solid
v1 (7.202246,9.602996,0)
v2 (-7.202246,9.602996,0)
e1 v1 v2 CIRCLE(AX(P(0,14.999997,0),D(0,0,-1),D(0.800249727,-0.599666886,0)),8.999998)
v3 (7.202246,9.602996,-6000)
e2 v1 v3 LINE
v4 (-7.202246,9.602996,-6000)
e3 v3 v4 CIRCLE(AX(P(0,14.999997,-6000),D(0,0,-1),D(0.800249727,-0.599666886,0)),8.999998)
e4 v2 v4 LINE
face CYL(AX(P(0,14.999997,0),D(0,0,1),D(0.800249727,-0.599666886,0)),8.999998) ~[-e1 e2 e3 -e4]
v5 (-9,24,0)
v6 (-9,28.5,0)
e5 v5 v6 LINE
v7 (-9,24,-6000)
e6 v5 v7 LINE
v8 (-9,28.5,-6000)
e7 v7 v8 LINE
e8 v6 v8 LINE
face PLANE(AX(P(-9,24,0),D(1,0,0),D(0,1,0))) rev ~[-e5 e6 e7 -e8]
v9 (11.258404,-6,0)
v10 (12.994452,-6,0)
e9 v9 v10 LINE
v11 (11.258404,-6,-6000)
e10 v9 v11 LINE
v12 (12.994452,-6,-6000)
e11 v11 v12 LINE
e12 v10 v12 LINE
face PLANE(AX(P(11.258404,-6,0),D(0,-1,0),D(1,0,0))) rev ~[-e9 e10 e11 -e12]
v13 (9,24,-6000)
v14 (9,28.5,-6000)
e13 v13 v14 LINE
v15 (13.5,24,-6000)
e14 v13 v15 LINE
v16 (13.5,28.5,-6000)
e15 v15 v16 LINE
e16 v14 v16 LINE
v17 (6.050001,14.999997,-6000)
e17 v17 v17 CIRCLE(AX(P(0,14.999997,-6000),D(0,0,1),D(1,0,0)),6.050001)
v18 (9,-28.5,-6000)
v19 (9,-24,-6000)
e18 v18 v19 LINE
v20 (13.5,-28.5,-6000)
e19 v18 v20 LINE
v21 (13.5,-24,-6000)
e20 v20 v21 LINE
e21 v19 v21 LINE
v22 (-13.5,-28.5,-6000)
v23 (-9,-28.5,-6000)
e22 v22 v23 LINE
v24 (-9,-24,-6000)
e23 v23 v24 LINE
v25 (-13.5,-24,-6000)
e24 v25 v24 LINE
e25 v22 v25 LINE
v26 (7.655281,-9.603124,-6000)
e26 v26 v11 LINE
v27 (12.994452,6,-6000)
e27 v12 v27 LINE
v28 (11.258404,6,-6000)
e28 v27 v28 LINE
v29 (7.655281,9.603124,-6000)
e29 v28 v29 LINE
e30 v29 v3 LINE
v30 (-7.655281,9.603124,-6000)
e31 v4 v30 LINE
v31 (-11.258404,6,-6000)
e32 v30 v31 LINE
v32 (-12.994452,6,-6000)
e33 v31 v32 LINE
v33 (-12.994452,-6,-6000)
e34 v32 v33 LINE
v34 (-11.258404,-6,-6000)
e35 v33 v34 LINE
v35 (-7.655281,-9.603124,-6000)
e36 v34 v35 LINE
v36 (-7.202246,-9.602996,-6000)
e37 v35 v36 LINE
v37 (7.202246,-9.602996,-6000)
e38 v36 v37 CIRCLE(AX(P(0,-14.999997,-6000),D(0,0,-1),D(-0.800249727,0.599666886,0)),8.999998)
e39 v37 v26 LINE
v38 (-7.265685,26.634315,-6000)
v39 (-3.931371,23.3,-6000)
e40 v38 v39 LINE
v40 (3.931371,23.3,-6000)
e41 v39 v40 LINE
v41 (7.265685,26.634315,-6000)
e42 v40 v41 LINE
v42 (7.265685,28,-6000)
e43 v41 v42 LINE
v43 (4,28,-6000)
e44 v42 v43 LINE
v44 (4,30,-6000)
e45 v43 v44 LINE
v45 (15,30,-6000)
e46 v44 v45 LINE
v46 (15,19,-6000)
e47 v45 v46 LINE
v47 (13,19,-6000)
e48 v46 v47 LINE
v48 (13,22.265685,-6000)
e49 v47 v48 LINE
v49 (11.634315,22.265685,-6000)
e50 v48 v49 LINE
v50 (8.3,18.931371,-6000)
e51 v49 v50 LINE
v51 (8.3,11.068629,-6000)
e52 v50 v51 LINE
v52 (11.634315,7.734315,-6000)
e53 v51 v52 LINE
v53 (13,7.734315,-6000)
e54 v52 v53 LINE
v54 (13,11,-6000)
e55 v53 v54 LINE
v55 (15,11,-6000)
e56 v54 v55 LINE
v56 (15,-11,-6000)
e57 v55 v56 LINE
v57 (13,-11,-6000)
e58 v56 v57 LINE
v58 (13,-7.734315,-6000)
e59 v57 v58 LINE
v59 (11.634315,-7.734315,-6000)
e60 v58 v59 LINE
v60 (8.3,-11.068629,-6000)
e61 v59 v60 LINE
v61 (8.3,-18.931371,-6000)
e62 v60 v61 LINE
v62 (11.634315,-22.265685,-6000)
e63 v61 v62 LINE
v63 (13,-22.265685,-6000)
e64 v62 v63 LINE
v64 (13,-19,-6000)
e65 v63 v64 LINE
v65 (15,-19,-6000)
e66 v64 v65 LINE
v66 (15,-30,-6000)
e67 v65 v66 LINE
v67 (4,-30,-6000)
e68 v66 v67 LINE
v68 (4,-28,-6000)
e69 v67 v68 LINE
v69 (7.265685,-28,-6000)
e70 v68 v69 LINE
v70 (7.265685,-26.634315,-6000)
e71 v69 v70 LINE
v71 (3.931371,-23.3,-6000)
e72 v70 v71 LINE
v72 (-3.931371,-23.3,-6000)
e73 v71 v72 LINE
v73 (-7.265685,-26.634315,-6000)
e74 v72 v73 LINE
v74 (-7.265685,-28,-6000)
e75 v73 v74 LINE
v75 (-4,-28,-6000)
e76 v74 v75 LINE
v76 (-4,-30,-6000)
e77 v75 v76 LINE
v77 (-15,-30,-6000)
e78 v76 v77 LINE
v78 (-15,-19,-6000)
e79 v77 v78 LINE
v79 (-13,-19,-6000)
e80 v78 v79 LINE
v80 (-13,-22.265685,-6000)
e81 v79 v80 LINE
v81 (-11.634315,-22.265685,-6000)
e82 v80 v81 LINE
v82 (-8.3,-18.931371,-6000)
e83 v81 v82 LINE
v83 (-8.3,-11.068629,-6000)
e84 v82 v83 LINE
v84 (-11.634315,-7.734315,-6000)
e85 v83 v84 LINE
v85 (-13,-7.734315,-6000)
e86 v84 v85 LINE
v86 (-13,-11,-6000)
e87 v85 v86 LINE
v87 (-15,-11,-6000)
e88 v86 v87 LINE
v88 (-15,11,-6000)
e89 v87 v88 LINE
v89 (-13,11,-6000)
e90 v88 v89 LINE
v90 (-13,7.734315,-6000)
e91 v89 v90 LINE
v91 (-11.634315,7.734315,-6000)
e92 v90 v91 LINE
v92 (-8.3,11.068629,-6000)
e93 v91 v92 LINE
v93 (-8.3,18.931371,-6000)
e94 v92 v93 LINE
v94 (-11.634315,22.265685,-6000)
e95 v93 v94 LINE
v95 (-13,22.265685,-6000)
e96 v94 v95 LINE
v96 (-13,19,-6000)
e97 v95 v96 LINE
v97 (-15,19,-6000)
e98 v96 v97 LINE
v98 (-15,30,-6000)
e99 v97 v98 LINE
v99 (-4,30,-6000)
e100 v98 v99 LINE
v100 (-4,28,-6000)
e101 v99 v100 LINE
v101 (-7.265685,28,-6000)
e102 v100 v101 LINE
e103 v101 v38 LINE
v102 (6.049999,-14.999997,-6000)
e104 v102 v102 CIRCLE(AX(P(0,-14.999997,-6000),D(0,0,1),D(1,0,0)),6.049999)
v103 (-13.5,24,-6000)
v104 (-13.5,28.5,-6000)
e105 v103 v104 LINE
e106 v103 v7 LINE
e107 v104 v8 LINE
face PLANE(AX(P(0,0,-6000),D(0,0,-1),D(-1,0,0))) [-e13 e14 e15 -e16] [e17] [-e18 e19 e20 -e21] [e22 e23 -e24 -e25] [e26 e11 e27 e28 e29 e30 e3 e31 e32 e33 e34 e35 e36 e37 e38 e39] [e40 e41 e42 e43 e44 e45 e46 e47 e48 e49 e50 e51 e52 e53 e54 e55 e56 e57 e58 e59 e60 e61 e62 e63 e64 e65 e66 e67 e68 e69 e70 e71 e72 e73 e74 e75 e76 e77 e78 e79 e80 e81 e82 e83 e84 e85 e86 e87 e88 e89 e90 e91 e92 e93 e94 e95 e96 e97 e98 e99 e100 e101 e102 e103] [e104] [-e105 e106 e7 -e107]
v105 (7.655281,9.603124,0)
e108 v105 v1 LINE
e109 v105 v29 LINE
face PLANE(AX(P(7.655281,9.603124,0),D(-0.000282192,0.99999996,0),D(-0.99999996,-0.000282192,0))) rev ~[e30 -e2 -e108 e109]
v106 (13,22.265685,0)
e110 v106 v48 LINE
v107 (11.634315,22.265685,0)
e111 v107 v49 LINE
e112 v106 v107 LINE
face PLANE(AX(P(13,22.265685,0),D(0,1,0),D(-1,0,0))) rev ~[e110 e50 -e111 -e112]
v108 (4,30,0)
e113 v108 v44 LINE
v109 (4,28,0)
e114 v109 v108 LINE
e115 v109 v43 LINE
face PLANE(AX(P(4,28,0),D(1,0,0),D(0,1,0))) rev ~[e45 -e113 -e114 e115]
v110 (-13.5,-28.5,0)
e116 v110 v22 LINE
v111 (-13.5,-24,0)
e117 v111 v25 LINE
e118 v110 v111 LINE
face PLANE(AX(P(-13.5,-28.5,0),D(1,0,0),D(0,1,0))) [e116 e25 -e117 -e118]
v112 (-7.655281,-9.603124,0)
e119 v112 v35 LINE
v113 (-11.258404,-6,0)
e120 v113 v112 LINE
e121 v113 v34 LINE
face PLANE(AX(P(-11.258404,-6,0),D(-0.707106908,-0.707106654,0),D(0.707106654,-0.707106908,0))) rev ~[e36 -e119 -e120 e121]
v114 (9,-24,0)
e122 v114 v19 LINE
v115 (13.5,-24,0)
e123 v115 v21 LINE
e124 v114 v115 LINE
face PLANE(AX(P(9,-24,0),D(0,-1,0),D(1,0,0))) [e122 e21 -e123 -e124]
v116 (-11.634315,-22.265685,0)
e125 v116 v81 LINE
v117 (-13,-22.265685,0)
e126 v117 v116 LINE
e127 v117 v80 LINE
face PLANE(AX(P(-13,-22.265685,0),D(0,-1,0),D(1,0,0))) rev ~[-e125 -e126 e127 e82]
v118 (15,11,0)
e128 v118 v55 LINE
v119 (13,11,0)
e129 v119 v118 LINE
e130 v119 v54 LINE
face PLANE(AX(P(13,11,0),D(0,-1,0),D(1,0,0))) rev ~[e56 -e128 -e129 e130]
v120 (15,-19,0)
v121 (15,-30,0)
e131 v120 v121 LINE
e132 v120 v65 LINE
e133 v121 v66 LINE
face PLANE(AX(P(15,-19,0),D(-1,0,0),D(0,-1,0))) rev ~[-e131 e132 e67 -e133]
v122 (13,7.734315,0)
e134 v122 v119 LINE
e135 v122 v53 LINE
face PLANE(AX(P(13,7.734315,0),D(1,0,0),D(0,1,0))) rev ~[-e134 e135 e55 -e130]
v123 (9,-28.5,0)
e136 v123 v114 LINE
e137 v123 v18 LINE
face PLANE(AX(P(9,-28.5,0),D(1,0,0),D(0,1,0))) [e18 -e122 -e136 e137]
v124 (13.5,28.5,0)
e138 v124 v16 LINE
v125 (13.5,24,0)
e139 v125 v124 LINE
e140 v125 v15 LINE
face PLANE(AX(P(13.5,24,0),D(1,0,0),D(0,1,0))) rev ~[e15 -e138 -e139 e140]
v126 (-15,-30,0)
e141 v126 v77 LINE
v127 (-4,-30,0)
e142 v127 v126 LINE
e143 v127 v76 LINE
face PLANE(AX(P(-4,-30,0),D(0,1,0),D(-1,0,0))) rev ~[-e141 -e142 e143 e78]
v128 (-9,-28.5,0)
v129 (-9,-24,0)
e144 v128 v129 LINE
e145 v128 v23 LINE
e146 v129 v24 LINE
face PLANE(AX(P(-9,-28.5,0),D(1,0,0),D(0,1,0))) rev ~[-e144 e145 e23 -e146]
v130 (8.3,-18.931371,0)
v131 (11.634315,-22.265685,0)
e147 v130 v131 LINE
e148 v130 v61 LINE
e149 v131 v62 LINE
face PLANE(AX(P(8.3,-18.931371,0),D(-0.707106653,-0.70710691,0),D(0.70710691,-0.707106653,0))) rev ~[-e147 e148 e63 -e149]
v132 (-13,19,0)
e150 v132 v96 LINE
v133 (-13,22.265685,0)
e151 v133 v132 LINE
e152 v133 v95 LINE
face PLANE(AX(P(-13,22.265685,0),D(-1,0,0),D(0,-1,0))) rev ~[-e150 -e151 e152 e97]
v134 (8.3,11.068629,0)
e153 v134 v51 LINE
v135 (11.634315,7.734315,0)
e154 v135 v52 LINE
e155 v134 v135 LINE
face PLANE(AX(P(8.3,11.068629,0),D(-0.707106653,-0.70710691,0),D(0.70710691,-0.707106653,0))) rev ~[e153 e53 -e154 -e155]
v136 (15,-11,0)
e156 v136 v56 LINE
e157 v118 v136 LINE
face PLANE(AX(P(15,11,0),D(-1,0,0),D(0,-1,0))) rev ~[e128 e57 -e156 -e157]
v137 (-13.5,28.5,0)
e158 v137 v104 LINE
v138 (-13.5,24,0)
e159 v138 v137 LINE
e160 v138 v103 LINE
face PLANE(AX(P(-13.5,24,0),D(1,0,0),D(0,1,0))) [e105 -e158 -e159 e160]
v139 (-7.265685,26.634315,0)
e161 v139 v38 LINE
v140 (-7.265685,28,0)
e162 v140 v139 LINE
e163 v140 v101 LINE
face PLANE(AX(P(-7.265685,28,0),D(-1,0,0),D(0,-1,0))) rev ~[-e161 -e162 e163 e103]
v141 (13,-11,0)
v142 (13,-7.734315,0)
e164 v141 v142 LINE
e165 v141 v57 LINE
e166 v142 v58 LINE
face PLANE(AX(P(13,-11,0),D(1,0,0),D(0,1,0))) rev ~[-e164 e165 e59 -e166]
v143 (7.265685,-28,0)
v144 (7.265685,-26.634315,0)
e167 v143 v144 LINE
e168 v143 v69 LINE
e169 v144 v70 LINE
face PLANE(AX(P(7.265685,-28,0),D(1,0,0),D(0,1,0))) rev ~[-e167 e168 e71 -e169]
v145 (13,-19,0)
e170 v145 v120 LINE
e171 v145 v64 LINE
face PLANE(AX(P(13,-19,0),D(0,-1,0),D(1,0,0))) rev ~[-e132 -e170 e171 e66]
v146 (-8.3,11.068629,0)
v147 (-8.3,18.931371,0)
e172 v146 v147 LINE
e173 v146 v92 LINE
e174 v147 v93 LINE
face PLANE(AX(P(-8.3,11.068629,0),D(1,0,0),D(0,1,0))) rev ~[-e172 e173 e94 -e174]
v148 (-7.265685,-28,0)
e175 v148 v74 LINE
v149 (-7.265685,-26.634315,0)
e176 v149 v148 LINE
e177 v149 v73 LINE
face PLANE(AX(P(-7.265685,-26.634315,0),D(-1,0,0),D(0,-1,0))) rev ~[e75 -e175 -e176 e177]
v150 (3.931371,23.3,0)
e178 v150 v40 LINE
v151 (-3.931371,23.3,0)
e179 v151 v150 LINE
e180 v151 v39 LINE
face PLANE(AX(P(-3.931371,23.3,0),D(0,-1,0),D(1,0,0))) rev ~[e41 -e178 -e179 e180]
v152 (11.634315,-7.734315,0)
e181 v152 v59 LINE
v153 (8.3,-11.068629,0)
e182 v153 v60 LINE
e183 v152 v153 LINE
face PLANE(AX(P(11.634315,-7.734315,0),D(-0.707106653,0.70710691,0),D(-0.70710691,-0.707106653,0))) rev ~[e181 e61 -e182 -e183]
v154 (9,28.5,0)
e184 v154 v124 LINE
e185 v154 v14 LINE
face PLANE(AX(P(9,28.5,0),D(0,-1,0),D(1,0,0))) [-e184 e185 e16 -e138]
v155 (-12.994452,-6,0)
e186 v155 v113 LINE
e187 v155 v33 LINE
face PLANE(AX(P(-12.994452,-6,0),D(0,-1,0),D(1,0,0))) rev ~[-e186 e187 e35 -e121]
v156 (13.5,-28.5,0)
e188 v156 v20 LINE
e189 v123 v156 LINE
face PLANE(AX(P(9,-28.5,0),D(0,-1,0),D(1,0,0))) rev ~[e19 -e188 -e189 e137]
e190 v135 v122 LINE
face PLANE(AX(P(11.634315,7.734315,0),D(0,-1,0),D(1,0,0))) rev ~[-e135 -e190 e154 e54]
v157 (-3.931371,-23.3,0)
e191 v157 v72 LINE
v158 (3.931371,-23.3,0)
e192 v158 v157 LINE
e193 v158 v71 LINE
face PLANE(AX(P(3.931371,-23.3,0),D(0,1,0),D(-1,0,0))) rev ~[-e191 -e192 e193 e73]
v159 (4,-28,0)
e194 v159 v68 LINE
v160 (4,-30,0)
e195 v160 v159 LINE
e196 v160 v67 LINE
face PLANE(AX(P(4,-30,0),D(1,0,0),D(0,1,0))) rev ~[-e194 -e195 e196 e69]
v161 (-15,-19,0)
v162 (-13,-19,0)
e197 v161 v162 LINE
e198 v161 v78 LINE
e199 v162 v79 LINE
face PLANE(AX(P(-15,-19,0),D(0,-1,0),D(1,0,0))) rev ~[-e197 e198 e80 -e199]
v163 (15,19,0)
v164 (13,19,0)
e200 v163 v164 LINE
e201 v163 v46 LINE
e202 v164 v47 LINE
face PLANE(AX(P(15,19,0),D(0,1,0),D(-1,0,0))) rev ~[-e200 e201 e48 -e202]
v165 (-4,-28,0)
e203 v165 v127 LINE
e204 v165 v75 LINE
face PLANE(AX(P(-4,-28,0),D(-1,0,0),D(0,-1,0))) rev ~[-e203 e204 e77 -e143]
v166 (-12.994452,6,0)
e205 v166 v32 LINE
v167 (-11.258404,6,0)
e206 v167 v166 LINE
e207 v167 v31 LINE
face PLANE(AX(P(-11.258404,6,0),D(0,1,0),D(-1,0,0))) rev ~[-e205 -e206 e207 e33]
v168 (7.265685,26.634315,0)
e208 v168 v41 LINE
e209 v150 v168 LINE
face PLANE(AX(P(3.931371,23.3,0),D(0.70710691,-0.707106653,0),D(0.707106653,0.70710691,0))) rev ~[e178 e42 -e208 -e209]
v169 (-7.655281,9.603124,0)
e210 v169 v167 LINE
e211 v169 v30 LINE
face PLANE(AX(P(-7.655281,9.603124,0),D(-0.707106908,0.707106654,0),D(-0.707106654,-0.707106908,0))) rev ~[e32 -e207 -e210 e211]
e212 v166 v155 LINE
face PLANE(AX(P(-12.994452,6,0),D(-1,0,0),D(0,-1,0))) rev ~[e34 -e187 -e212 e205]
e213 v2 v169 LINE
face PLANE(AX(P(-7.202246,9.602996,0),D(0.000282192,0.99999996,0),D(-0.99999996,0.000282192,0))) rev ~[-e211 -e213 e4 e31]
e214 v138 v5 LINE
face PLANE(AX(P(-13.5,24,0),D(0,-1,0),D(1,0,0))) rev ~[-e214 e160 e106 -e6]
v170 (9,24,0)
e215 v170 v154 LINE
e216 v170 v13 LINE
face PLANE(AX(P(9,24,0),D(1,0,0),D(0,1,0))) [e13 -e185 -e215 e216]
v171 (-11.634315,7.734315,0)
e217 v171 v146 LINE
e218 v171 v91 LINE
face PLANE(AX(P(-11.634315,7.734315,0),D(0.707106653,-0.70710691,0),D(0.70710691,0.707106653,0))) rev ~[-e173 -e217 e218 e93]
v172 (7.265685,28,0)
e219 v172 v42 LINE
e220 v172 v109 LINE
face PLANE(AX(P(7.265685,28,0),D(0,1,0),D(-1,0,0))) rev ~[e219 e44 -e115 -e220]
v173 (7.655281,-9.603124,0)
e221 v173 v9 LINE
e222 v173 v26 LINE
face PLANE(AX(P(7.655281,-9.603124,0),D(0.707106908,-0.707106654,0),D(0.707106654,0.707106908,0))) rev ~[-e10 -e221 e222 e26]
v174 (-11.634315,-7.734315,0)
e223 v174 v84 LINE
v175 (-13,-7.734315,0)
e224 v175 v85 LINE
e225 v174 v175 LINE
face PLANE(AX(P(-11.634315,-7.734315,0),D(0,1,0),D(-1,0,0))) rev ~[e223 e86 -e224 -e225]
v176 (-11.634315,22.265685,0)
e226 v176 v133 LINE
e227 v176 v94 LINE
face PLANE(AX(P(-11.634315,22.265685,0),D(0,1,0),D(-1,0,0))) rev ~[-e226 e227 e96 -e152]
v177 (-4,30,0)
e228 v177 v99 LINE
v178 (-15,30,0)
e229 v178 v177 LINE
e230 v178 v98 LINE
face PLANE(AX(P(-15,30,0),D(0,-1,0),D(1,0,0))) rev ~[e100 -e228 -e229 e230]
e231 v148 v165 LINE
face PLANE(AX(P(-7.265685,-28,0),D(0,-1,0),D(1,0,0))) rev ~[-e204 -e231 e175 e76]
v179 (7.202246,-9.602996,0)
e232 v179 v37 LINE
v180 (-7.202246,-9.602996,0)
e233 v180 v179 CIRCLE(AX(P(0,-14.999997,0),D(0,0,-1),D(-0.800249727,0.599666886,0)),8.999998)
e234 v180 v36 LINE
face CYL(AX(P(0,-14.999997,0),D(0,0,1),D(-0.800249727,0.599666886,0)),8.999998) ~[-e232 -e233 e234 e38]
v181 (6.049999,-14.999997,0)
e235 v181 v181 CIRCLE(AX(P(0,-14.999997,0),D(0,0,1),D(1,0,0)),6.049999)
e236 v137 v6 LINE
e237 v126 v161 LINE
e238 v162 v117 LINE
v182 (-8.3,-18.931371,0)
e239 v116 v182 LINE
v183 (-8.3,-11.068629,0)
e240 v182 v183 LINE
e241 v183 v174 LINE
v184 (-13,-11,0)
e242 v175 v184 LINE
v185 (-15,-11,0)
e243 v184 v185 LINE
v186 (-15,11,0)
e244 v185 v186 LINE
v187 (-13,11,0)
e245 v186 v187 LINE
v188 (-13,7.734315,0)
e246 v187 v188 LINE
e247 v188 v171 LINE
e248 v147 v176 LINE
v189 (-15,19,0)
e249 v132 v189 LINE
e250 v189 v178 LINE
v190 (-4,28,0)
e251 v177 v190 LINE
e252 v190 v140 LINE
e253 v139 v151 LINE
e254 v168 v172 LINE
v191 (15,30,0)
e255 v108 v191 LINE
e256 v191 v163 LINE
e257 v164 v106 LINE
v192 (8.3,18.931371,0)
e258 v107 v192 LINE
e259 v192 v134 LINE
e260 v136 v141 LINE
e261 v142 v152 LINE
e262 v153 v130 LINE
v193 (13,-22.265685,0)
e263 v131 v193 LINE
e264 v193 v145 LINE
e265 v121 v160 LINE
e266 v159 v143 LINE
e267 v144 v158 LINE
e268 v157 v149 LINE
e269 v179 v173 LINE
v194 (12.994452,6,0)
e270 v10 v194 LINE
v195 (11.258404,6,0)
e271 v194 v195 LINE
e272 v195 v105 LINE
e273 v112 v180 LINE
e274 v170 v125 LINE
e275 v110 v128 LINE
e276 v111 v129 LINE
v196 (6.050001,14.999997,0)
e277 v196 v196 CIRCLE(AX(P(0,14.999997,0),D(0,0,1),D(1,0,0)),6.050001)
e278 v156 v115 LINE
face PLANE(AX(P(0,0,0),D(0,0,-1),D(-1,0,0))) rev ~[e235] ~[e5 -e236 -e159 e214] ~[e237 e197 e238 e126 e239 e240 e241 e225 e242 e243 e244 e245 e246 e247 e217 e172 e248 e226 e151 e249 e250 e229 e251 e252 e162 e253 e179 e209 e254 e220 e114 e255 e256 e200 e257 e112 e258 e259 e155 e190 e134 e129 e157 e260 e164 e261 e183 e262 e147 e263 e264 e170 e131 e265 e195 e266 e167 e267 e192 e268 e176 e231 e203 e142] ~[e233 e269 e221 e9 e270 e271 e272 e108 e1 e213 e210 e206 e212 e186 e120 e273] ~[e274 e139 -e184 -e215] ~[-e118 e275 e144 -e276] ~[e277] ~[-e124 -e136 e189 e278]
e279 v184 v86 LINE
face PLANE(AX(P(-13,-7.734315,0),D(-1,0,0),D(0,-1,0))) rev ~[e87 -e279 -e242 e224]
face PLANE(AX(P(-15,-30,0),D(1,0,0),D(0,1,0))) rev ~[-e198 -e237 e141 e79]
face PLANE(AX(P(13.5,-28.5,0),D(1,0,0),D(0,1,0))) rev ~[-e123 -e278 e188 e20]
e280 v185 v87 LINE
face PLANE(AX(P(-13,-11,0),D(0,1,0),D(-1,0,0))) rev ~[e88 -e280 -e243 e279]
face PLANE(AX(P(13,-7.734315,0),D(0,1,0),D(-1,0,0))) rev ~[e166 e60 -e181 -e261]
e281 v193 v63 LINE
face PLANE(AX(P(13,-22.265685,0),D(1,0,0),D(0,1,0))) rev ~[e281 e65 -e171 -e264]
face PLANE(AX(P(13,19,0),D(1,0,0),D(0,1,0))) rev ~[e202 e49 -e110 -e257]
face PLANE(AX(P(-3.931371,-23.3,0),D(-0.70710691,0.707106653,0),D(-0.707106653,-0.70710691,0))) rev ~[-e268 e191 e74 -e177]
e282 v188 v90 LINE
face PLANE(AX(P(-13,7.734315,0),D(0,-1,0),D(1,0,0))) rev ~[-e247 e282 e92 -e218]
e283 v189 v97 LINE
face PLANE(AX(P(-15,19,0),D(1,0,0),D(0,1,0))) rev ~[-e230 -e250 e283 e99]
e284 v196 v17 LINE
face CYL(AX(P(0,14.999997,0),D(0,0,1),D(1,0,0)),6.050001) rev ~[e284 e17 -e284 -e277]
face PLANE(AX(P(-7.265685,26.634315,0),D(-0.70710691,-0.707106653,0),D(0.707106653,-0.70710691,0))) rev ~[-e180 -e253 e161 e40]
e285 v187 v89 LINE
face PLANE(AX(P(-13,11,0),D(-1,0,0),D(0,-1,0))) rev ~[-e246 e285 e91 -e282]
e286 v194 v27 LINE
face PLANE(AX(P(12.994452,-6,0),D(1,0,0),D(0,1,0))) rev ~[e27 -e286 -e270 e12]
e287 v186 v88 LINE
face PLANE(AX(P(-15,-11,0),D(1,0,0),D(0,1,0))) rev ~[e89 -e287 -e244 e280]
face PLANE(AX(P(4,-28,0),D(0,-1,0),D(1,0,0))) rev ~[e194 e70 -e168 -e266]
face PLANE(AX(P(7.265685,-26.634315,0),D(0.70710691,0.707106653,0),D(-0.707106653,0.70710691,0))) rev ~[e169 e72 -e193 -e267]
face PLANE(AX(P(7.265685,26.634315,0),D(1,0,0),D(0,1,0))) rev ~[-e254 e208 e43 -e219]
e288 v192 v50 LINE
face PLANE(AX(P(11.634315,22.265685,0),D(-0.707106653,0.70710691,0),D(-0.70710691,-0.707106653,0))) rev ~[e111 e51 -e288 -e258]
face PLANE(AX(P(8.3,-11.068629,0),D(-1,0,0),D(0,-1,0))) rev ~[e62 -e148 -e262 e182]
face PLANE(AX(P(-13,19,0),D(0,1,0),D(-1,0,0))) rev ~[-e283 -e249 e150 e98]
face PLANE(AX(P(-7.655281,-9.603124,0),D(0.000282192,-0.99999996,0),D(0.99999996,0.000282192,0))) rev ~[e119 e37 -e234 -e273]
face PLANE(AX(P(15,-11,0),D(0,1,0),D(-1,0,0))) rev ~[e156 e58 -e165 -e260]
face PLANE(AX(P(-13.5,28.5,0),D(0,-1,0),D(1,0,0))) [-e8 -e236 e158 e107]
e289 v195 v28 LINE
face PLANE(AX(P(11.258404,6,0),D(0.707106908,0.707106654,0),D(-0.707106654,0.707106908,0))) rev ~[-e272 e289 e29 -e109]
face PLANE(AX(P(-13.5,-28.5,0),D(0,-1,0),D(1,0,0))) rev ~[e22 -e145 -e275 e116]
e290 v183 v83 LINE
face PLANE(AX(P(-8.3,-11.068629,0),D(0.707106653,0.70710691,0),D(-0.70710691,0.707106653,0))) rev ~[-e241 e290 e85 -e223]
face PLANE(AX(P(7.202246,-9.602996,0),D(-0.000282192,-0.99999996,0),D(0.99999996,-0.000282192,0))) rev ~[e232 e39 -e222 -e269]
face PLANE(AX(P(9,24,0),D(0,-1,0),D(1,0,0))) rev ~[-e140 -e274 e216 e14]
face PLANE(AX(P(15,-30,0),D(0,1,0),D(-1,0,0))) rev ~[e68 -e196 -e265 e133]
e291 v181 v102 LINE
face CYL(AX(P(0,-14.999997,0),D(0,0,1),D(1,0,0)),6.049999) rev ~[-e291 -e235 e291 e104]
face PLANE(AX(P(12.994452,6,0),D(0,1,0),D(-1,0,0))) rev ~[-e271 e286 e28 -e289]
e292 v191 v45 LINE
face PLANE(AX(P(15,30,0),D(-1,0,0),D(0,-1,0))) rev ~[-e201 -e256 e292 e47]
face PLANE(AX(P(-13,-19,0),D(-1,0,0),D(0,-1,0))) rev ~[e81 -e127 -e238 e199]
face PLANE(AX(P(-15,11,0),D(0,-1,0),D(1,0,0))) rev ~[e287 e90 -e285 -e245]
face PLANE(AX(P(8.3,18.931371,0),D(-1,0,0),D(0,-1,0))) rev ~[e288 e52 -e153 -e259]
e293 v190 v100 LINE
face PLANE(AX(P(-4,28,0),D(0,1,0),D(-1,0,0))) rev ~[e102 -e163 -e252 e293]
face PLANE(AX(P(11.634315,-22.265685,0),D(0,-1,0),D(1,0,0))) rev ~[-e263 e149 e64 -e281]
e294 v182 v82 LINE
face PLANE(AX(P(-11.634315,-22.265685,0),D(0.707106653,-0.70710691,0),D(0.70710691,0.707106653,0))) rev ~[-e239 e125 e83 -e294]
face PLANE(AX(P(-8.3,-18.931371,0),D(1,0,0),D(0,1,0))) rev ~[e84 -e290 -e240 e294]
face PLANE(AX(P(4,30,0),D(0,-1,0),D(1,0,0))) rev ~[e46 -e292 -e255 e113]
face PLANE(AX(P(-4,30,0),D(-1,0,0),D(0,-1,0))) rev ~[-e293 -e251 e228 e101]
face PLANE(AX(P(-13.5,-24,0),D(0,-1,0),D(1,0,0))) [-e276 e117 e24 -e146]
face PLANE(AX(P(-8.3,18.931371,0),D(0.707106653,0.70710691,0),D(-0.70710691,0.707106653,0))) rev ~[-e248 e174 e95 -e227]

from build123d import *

# Parameters (mm, degrees)
SKETCH_B01_6_R   = 6.049999362
SKETCH_B01_6_R_2 = 6.050001038
SKETCH_B01_6_W   = 4.5
SKETCH_B01_6_H   = 4.5
EXTRUDE1_DEPTH   = 6000


with BuildPart() as part:
    # Sketch B01-6 → Extrude1 (new body)
    with BuildSketch(Plane.XY):
        Polygon((-13, -22.265685), (-11.634315, -22.265685), (-8.3, -18.931371213), (-8.3, -11.068628787), (-11.634315, -7.734315), (-13, -7.734315), (-13, -11), (-15, -11), (-15, 11), (-13, 11), (-13, 7.734315), (-11.634315, 7.734315), (-8.3, 11.068628787), (-8.3, 18.931371213), (-11.634315, 22.265685), (-13, 22.265685), (-13, 19), (-15, 19), (-15, 30), (-4, 30), (-4, 28), (-7.265685, 28), (-7.265685, 26.634315), (-3.931371213, 23.3), (3.931371213, 23.3), (7.265685, 26.634315), (7.265685, 28), (4, 28), (4, 30), (15, 30), (15, 19), (13, 19), (13, 22.265685), (11.634315, 22.265685), (8.3, 18.931371213), (8.3, 11.068628787), (11.634315, 7.734315), (13, 7.734315), (13, 11), (15, 11), (15, -11), (13, -11), (13, -7.734315), (11.634315, -7.734315), (8.3, -11.068628787), (8.3, -18.931371213), (11.634315, -22.265685), (13, -22.265685), (13, -19), (15, -19), (15, -30), (4, -30), (4, -28), (7.265685, -28), (7.265685, -26.634315), (3.931371213, -23.3), (-3.931371213, -23.3), (-7.265685, -26.634315), (-7.265685, -28), (-4, -28), (-4, -30), (-15, -30), (-15, -19), (-13, -19), align=None)
        with Locations((-2.09e-07, -14.999997135)):
            Circle(SKETCH_B01_6_R, mode=Mode.SUBTRACT)
        with Locations((-2.09e-07, 14.999997135)):
            Circle(SKETCH_B01_6_R_2, mode=Mode.SUBTRACT)
        with BuildLine():
            Line((-7.655281293, -9.603124178), (-7.202246191, -9.602996335))
            ThreePointArc((-7.202246191, -9.602996335), (-2.09e-07, -5.999999089), (7.202245773, -9.602996335))
            Line((7.202245773, -9.602996335), (7.655280874, -9.603124178))
            Line((7.655280874, -9.603124178), (11.258403758, -6))
            Line((11.258403758, -6), (12.994452, -6))
            Line((12.994452, -6), (12.994452, 6))
            Line((12.994452, 6), (11.258403758, 6))
            Line((11.258403758, 6), (7.655280874, 9.603124178))
            Line((7.655280874, 9.603124178), (7.202245773, 9.602996335))
            ThreePointArc((7.202245773, 9.602996335), (-2.09e-07, 5.999999089), (-7.202246191, 9.602996335))
            Line((-7.202246191, 9.602996335), (-7.655281293, 9.603124178))
            Line((-7.655281293, 9.603124178), (-11.258404176, 6))
            Line((-11.258404176, 6), (-12.994452419, 6))
            Line((-12.994452419, 6), (-12.994452419, -6))
            Line((-12.994452419, -6), (-11.258404176, -6))
            Line((-11.258404176, -6), (-7.655281293, -9.603124178))
        make_face(mode=Mode.SUBTRACT)
        with Locations((-11.25, -26.25)):
            Rectangle(SKETCH_B01_6_W, SKETCH_B01_6_H, mode=Mode.SUBTRACT)
        with Locations((-11.25, 26.25)):
            Rectangle(SKETCH_B01_6_W, SKETCH_B01_6_H, mode=Mode.SUBTRACT)
        with Locations((11.25, -26.25)):
            Rectangle(SKETCH_B01_6_W, SKETCH_B01_6_H, mode=Mode.SUBTRACT)
        with Locations((11.25, 26.25)):
            Rectangle(SKETCH_B01_6_W, SKETCH_B01_6_H, mode=Mode.SUBTRACT)
    extrude(amount=-EXTRUDE1_DEPTH)


solid = part.part
